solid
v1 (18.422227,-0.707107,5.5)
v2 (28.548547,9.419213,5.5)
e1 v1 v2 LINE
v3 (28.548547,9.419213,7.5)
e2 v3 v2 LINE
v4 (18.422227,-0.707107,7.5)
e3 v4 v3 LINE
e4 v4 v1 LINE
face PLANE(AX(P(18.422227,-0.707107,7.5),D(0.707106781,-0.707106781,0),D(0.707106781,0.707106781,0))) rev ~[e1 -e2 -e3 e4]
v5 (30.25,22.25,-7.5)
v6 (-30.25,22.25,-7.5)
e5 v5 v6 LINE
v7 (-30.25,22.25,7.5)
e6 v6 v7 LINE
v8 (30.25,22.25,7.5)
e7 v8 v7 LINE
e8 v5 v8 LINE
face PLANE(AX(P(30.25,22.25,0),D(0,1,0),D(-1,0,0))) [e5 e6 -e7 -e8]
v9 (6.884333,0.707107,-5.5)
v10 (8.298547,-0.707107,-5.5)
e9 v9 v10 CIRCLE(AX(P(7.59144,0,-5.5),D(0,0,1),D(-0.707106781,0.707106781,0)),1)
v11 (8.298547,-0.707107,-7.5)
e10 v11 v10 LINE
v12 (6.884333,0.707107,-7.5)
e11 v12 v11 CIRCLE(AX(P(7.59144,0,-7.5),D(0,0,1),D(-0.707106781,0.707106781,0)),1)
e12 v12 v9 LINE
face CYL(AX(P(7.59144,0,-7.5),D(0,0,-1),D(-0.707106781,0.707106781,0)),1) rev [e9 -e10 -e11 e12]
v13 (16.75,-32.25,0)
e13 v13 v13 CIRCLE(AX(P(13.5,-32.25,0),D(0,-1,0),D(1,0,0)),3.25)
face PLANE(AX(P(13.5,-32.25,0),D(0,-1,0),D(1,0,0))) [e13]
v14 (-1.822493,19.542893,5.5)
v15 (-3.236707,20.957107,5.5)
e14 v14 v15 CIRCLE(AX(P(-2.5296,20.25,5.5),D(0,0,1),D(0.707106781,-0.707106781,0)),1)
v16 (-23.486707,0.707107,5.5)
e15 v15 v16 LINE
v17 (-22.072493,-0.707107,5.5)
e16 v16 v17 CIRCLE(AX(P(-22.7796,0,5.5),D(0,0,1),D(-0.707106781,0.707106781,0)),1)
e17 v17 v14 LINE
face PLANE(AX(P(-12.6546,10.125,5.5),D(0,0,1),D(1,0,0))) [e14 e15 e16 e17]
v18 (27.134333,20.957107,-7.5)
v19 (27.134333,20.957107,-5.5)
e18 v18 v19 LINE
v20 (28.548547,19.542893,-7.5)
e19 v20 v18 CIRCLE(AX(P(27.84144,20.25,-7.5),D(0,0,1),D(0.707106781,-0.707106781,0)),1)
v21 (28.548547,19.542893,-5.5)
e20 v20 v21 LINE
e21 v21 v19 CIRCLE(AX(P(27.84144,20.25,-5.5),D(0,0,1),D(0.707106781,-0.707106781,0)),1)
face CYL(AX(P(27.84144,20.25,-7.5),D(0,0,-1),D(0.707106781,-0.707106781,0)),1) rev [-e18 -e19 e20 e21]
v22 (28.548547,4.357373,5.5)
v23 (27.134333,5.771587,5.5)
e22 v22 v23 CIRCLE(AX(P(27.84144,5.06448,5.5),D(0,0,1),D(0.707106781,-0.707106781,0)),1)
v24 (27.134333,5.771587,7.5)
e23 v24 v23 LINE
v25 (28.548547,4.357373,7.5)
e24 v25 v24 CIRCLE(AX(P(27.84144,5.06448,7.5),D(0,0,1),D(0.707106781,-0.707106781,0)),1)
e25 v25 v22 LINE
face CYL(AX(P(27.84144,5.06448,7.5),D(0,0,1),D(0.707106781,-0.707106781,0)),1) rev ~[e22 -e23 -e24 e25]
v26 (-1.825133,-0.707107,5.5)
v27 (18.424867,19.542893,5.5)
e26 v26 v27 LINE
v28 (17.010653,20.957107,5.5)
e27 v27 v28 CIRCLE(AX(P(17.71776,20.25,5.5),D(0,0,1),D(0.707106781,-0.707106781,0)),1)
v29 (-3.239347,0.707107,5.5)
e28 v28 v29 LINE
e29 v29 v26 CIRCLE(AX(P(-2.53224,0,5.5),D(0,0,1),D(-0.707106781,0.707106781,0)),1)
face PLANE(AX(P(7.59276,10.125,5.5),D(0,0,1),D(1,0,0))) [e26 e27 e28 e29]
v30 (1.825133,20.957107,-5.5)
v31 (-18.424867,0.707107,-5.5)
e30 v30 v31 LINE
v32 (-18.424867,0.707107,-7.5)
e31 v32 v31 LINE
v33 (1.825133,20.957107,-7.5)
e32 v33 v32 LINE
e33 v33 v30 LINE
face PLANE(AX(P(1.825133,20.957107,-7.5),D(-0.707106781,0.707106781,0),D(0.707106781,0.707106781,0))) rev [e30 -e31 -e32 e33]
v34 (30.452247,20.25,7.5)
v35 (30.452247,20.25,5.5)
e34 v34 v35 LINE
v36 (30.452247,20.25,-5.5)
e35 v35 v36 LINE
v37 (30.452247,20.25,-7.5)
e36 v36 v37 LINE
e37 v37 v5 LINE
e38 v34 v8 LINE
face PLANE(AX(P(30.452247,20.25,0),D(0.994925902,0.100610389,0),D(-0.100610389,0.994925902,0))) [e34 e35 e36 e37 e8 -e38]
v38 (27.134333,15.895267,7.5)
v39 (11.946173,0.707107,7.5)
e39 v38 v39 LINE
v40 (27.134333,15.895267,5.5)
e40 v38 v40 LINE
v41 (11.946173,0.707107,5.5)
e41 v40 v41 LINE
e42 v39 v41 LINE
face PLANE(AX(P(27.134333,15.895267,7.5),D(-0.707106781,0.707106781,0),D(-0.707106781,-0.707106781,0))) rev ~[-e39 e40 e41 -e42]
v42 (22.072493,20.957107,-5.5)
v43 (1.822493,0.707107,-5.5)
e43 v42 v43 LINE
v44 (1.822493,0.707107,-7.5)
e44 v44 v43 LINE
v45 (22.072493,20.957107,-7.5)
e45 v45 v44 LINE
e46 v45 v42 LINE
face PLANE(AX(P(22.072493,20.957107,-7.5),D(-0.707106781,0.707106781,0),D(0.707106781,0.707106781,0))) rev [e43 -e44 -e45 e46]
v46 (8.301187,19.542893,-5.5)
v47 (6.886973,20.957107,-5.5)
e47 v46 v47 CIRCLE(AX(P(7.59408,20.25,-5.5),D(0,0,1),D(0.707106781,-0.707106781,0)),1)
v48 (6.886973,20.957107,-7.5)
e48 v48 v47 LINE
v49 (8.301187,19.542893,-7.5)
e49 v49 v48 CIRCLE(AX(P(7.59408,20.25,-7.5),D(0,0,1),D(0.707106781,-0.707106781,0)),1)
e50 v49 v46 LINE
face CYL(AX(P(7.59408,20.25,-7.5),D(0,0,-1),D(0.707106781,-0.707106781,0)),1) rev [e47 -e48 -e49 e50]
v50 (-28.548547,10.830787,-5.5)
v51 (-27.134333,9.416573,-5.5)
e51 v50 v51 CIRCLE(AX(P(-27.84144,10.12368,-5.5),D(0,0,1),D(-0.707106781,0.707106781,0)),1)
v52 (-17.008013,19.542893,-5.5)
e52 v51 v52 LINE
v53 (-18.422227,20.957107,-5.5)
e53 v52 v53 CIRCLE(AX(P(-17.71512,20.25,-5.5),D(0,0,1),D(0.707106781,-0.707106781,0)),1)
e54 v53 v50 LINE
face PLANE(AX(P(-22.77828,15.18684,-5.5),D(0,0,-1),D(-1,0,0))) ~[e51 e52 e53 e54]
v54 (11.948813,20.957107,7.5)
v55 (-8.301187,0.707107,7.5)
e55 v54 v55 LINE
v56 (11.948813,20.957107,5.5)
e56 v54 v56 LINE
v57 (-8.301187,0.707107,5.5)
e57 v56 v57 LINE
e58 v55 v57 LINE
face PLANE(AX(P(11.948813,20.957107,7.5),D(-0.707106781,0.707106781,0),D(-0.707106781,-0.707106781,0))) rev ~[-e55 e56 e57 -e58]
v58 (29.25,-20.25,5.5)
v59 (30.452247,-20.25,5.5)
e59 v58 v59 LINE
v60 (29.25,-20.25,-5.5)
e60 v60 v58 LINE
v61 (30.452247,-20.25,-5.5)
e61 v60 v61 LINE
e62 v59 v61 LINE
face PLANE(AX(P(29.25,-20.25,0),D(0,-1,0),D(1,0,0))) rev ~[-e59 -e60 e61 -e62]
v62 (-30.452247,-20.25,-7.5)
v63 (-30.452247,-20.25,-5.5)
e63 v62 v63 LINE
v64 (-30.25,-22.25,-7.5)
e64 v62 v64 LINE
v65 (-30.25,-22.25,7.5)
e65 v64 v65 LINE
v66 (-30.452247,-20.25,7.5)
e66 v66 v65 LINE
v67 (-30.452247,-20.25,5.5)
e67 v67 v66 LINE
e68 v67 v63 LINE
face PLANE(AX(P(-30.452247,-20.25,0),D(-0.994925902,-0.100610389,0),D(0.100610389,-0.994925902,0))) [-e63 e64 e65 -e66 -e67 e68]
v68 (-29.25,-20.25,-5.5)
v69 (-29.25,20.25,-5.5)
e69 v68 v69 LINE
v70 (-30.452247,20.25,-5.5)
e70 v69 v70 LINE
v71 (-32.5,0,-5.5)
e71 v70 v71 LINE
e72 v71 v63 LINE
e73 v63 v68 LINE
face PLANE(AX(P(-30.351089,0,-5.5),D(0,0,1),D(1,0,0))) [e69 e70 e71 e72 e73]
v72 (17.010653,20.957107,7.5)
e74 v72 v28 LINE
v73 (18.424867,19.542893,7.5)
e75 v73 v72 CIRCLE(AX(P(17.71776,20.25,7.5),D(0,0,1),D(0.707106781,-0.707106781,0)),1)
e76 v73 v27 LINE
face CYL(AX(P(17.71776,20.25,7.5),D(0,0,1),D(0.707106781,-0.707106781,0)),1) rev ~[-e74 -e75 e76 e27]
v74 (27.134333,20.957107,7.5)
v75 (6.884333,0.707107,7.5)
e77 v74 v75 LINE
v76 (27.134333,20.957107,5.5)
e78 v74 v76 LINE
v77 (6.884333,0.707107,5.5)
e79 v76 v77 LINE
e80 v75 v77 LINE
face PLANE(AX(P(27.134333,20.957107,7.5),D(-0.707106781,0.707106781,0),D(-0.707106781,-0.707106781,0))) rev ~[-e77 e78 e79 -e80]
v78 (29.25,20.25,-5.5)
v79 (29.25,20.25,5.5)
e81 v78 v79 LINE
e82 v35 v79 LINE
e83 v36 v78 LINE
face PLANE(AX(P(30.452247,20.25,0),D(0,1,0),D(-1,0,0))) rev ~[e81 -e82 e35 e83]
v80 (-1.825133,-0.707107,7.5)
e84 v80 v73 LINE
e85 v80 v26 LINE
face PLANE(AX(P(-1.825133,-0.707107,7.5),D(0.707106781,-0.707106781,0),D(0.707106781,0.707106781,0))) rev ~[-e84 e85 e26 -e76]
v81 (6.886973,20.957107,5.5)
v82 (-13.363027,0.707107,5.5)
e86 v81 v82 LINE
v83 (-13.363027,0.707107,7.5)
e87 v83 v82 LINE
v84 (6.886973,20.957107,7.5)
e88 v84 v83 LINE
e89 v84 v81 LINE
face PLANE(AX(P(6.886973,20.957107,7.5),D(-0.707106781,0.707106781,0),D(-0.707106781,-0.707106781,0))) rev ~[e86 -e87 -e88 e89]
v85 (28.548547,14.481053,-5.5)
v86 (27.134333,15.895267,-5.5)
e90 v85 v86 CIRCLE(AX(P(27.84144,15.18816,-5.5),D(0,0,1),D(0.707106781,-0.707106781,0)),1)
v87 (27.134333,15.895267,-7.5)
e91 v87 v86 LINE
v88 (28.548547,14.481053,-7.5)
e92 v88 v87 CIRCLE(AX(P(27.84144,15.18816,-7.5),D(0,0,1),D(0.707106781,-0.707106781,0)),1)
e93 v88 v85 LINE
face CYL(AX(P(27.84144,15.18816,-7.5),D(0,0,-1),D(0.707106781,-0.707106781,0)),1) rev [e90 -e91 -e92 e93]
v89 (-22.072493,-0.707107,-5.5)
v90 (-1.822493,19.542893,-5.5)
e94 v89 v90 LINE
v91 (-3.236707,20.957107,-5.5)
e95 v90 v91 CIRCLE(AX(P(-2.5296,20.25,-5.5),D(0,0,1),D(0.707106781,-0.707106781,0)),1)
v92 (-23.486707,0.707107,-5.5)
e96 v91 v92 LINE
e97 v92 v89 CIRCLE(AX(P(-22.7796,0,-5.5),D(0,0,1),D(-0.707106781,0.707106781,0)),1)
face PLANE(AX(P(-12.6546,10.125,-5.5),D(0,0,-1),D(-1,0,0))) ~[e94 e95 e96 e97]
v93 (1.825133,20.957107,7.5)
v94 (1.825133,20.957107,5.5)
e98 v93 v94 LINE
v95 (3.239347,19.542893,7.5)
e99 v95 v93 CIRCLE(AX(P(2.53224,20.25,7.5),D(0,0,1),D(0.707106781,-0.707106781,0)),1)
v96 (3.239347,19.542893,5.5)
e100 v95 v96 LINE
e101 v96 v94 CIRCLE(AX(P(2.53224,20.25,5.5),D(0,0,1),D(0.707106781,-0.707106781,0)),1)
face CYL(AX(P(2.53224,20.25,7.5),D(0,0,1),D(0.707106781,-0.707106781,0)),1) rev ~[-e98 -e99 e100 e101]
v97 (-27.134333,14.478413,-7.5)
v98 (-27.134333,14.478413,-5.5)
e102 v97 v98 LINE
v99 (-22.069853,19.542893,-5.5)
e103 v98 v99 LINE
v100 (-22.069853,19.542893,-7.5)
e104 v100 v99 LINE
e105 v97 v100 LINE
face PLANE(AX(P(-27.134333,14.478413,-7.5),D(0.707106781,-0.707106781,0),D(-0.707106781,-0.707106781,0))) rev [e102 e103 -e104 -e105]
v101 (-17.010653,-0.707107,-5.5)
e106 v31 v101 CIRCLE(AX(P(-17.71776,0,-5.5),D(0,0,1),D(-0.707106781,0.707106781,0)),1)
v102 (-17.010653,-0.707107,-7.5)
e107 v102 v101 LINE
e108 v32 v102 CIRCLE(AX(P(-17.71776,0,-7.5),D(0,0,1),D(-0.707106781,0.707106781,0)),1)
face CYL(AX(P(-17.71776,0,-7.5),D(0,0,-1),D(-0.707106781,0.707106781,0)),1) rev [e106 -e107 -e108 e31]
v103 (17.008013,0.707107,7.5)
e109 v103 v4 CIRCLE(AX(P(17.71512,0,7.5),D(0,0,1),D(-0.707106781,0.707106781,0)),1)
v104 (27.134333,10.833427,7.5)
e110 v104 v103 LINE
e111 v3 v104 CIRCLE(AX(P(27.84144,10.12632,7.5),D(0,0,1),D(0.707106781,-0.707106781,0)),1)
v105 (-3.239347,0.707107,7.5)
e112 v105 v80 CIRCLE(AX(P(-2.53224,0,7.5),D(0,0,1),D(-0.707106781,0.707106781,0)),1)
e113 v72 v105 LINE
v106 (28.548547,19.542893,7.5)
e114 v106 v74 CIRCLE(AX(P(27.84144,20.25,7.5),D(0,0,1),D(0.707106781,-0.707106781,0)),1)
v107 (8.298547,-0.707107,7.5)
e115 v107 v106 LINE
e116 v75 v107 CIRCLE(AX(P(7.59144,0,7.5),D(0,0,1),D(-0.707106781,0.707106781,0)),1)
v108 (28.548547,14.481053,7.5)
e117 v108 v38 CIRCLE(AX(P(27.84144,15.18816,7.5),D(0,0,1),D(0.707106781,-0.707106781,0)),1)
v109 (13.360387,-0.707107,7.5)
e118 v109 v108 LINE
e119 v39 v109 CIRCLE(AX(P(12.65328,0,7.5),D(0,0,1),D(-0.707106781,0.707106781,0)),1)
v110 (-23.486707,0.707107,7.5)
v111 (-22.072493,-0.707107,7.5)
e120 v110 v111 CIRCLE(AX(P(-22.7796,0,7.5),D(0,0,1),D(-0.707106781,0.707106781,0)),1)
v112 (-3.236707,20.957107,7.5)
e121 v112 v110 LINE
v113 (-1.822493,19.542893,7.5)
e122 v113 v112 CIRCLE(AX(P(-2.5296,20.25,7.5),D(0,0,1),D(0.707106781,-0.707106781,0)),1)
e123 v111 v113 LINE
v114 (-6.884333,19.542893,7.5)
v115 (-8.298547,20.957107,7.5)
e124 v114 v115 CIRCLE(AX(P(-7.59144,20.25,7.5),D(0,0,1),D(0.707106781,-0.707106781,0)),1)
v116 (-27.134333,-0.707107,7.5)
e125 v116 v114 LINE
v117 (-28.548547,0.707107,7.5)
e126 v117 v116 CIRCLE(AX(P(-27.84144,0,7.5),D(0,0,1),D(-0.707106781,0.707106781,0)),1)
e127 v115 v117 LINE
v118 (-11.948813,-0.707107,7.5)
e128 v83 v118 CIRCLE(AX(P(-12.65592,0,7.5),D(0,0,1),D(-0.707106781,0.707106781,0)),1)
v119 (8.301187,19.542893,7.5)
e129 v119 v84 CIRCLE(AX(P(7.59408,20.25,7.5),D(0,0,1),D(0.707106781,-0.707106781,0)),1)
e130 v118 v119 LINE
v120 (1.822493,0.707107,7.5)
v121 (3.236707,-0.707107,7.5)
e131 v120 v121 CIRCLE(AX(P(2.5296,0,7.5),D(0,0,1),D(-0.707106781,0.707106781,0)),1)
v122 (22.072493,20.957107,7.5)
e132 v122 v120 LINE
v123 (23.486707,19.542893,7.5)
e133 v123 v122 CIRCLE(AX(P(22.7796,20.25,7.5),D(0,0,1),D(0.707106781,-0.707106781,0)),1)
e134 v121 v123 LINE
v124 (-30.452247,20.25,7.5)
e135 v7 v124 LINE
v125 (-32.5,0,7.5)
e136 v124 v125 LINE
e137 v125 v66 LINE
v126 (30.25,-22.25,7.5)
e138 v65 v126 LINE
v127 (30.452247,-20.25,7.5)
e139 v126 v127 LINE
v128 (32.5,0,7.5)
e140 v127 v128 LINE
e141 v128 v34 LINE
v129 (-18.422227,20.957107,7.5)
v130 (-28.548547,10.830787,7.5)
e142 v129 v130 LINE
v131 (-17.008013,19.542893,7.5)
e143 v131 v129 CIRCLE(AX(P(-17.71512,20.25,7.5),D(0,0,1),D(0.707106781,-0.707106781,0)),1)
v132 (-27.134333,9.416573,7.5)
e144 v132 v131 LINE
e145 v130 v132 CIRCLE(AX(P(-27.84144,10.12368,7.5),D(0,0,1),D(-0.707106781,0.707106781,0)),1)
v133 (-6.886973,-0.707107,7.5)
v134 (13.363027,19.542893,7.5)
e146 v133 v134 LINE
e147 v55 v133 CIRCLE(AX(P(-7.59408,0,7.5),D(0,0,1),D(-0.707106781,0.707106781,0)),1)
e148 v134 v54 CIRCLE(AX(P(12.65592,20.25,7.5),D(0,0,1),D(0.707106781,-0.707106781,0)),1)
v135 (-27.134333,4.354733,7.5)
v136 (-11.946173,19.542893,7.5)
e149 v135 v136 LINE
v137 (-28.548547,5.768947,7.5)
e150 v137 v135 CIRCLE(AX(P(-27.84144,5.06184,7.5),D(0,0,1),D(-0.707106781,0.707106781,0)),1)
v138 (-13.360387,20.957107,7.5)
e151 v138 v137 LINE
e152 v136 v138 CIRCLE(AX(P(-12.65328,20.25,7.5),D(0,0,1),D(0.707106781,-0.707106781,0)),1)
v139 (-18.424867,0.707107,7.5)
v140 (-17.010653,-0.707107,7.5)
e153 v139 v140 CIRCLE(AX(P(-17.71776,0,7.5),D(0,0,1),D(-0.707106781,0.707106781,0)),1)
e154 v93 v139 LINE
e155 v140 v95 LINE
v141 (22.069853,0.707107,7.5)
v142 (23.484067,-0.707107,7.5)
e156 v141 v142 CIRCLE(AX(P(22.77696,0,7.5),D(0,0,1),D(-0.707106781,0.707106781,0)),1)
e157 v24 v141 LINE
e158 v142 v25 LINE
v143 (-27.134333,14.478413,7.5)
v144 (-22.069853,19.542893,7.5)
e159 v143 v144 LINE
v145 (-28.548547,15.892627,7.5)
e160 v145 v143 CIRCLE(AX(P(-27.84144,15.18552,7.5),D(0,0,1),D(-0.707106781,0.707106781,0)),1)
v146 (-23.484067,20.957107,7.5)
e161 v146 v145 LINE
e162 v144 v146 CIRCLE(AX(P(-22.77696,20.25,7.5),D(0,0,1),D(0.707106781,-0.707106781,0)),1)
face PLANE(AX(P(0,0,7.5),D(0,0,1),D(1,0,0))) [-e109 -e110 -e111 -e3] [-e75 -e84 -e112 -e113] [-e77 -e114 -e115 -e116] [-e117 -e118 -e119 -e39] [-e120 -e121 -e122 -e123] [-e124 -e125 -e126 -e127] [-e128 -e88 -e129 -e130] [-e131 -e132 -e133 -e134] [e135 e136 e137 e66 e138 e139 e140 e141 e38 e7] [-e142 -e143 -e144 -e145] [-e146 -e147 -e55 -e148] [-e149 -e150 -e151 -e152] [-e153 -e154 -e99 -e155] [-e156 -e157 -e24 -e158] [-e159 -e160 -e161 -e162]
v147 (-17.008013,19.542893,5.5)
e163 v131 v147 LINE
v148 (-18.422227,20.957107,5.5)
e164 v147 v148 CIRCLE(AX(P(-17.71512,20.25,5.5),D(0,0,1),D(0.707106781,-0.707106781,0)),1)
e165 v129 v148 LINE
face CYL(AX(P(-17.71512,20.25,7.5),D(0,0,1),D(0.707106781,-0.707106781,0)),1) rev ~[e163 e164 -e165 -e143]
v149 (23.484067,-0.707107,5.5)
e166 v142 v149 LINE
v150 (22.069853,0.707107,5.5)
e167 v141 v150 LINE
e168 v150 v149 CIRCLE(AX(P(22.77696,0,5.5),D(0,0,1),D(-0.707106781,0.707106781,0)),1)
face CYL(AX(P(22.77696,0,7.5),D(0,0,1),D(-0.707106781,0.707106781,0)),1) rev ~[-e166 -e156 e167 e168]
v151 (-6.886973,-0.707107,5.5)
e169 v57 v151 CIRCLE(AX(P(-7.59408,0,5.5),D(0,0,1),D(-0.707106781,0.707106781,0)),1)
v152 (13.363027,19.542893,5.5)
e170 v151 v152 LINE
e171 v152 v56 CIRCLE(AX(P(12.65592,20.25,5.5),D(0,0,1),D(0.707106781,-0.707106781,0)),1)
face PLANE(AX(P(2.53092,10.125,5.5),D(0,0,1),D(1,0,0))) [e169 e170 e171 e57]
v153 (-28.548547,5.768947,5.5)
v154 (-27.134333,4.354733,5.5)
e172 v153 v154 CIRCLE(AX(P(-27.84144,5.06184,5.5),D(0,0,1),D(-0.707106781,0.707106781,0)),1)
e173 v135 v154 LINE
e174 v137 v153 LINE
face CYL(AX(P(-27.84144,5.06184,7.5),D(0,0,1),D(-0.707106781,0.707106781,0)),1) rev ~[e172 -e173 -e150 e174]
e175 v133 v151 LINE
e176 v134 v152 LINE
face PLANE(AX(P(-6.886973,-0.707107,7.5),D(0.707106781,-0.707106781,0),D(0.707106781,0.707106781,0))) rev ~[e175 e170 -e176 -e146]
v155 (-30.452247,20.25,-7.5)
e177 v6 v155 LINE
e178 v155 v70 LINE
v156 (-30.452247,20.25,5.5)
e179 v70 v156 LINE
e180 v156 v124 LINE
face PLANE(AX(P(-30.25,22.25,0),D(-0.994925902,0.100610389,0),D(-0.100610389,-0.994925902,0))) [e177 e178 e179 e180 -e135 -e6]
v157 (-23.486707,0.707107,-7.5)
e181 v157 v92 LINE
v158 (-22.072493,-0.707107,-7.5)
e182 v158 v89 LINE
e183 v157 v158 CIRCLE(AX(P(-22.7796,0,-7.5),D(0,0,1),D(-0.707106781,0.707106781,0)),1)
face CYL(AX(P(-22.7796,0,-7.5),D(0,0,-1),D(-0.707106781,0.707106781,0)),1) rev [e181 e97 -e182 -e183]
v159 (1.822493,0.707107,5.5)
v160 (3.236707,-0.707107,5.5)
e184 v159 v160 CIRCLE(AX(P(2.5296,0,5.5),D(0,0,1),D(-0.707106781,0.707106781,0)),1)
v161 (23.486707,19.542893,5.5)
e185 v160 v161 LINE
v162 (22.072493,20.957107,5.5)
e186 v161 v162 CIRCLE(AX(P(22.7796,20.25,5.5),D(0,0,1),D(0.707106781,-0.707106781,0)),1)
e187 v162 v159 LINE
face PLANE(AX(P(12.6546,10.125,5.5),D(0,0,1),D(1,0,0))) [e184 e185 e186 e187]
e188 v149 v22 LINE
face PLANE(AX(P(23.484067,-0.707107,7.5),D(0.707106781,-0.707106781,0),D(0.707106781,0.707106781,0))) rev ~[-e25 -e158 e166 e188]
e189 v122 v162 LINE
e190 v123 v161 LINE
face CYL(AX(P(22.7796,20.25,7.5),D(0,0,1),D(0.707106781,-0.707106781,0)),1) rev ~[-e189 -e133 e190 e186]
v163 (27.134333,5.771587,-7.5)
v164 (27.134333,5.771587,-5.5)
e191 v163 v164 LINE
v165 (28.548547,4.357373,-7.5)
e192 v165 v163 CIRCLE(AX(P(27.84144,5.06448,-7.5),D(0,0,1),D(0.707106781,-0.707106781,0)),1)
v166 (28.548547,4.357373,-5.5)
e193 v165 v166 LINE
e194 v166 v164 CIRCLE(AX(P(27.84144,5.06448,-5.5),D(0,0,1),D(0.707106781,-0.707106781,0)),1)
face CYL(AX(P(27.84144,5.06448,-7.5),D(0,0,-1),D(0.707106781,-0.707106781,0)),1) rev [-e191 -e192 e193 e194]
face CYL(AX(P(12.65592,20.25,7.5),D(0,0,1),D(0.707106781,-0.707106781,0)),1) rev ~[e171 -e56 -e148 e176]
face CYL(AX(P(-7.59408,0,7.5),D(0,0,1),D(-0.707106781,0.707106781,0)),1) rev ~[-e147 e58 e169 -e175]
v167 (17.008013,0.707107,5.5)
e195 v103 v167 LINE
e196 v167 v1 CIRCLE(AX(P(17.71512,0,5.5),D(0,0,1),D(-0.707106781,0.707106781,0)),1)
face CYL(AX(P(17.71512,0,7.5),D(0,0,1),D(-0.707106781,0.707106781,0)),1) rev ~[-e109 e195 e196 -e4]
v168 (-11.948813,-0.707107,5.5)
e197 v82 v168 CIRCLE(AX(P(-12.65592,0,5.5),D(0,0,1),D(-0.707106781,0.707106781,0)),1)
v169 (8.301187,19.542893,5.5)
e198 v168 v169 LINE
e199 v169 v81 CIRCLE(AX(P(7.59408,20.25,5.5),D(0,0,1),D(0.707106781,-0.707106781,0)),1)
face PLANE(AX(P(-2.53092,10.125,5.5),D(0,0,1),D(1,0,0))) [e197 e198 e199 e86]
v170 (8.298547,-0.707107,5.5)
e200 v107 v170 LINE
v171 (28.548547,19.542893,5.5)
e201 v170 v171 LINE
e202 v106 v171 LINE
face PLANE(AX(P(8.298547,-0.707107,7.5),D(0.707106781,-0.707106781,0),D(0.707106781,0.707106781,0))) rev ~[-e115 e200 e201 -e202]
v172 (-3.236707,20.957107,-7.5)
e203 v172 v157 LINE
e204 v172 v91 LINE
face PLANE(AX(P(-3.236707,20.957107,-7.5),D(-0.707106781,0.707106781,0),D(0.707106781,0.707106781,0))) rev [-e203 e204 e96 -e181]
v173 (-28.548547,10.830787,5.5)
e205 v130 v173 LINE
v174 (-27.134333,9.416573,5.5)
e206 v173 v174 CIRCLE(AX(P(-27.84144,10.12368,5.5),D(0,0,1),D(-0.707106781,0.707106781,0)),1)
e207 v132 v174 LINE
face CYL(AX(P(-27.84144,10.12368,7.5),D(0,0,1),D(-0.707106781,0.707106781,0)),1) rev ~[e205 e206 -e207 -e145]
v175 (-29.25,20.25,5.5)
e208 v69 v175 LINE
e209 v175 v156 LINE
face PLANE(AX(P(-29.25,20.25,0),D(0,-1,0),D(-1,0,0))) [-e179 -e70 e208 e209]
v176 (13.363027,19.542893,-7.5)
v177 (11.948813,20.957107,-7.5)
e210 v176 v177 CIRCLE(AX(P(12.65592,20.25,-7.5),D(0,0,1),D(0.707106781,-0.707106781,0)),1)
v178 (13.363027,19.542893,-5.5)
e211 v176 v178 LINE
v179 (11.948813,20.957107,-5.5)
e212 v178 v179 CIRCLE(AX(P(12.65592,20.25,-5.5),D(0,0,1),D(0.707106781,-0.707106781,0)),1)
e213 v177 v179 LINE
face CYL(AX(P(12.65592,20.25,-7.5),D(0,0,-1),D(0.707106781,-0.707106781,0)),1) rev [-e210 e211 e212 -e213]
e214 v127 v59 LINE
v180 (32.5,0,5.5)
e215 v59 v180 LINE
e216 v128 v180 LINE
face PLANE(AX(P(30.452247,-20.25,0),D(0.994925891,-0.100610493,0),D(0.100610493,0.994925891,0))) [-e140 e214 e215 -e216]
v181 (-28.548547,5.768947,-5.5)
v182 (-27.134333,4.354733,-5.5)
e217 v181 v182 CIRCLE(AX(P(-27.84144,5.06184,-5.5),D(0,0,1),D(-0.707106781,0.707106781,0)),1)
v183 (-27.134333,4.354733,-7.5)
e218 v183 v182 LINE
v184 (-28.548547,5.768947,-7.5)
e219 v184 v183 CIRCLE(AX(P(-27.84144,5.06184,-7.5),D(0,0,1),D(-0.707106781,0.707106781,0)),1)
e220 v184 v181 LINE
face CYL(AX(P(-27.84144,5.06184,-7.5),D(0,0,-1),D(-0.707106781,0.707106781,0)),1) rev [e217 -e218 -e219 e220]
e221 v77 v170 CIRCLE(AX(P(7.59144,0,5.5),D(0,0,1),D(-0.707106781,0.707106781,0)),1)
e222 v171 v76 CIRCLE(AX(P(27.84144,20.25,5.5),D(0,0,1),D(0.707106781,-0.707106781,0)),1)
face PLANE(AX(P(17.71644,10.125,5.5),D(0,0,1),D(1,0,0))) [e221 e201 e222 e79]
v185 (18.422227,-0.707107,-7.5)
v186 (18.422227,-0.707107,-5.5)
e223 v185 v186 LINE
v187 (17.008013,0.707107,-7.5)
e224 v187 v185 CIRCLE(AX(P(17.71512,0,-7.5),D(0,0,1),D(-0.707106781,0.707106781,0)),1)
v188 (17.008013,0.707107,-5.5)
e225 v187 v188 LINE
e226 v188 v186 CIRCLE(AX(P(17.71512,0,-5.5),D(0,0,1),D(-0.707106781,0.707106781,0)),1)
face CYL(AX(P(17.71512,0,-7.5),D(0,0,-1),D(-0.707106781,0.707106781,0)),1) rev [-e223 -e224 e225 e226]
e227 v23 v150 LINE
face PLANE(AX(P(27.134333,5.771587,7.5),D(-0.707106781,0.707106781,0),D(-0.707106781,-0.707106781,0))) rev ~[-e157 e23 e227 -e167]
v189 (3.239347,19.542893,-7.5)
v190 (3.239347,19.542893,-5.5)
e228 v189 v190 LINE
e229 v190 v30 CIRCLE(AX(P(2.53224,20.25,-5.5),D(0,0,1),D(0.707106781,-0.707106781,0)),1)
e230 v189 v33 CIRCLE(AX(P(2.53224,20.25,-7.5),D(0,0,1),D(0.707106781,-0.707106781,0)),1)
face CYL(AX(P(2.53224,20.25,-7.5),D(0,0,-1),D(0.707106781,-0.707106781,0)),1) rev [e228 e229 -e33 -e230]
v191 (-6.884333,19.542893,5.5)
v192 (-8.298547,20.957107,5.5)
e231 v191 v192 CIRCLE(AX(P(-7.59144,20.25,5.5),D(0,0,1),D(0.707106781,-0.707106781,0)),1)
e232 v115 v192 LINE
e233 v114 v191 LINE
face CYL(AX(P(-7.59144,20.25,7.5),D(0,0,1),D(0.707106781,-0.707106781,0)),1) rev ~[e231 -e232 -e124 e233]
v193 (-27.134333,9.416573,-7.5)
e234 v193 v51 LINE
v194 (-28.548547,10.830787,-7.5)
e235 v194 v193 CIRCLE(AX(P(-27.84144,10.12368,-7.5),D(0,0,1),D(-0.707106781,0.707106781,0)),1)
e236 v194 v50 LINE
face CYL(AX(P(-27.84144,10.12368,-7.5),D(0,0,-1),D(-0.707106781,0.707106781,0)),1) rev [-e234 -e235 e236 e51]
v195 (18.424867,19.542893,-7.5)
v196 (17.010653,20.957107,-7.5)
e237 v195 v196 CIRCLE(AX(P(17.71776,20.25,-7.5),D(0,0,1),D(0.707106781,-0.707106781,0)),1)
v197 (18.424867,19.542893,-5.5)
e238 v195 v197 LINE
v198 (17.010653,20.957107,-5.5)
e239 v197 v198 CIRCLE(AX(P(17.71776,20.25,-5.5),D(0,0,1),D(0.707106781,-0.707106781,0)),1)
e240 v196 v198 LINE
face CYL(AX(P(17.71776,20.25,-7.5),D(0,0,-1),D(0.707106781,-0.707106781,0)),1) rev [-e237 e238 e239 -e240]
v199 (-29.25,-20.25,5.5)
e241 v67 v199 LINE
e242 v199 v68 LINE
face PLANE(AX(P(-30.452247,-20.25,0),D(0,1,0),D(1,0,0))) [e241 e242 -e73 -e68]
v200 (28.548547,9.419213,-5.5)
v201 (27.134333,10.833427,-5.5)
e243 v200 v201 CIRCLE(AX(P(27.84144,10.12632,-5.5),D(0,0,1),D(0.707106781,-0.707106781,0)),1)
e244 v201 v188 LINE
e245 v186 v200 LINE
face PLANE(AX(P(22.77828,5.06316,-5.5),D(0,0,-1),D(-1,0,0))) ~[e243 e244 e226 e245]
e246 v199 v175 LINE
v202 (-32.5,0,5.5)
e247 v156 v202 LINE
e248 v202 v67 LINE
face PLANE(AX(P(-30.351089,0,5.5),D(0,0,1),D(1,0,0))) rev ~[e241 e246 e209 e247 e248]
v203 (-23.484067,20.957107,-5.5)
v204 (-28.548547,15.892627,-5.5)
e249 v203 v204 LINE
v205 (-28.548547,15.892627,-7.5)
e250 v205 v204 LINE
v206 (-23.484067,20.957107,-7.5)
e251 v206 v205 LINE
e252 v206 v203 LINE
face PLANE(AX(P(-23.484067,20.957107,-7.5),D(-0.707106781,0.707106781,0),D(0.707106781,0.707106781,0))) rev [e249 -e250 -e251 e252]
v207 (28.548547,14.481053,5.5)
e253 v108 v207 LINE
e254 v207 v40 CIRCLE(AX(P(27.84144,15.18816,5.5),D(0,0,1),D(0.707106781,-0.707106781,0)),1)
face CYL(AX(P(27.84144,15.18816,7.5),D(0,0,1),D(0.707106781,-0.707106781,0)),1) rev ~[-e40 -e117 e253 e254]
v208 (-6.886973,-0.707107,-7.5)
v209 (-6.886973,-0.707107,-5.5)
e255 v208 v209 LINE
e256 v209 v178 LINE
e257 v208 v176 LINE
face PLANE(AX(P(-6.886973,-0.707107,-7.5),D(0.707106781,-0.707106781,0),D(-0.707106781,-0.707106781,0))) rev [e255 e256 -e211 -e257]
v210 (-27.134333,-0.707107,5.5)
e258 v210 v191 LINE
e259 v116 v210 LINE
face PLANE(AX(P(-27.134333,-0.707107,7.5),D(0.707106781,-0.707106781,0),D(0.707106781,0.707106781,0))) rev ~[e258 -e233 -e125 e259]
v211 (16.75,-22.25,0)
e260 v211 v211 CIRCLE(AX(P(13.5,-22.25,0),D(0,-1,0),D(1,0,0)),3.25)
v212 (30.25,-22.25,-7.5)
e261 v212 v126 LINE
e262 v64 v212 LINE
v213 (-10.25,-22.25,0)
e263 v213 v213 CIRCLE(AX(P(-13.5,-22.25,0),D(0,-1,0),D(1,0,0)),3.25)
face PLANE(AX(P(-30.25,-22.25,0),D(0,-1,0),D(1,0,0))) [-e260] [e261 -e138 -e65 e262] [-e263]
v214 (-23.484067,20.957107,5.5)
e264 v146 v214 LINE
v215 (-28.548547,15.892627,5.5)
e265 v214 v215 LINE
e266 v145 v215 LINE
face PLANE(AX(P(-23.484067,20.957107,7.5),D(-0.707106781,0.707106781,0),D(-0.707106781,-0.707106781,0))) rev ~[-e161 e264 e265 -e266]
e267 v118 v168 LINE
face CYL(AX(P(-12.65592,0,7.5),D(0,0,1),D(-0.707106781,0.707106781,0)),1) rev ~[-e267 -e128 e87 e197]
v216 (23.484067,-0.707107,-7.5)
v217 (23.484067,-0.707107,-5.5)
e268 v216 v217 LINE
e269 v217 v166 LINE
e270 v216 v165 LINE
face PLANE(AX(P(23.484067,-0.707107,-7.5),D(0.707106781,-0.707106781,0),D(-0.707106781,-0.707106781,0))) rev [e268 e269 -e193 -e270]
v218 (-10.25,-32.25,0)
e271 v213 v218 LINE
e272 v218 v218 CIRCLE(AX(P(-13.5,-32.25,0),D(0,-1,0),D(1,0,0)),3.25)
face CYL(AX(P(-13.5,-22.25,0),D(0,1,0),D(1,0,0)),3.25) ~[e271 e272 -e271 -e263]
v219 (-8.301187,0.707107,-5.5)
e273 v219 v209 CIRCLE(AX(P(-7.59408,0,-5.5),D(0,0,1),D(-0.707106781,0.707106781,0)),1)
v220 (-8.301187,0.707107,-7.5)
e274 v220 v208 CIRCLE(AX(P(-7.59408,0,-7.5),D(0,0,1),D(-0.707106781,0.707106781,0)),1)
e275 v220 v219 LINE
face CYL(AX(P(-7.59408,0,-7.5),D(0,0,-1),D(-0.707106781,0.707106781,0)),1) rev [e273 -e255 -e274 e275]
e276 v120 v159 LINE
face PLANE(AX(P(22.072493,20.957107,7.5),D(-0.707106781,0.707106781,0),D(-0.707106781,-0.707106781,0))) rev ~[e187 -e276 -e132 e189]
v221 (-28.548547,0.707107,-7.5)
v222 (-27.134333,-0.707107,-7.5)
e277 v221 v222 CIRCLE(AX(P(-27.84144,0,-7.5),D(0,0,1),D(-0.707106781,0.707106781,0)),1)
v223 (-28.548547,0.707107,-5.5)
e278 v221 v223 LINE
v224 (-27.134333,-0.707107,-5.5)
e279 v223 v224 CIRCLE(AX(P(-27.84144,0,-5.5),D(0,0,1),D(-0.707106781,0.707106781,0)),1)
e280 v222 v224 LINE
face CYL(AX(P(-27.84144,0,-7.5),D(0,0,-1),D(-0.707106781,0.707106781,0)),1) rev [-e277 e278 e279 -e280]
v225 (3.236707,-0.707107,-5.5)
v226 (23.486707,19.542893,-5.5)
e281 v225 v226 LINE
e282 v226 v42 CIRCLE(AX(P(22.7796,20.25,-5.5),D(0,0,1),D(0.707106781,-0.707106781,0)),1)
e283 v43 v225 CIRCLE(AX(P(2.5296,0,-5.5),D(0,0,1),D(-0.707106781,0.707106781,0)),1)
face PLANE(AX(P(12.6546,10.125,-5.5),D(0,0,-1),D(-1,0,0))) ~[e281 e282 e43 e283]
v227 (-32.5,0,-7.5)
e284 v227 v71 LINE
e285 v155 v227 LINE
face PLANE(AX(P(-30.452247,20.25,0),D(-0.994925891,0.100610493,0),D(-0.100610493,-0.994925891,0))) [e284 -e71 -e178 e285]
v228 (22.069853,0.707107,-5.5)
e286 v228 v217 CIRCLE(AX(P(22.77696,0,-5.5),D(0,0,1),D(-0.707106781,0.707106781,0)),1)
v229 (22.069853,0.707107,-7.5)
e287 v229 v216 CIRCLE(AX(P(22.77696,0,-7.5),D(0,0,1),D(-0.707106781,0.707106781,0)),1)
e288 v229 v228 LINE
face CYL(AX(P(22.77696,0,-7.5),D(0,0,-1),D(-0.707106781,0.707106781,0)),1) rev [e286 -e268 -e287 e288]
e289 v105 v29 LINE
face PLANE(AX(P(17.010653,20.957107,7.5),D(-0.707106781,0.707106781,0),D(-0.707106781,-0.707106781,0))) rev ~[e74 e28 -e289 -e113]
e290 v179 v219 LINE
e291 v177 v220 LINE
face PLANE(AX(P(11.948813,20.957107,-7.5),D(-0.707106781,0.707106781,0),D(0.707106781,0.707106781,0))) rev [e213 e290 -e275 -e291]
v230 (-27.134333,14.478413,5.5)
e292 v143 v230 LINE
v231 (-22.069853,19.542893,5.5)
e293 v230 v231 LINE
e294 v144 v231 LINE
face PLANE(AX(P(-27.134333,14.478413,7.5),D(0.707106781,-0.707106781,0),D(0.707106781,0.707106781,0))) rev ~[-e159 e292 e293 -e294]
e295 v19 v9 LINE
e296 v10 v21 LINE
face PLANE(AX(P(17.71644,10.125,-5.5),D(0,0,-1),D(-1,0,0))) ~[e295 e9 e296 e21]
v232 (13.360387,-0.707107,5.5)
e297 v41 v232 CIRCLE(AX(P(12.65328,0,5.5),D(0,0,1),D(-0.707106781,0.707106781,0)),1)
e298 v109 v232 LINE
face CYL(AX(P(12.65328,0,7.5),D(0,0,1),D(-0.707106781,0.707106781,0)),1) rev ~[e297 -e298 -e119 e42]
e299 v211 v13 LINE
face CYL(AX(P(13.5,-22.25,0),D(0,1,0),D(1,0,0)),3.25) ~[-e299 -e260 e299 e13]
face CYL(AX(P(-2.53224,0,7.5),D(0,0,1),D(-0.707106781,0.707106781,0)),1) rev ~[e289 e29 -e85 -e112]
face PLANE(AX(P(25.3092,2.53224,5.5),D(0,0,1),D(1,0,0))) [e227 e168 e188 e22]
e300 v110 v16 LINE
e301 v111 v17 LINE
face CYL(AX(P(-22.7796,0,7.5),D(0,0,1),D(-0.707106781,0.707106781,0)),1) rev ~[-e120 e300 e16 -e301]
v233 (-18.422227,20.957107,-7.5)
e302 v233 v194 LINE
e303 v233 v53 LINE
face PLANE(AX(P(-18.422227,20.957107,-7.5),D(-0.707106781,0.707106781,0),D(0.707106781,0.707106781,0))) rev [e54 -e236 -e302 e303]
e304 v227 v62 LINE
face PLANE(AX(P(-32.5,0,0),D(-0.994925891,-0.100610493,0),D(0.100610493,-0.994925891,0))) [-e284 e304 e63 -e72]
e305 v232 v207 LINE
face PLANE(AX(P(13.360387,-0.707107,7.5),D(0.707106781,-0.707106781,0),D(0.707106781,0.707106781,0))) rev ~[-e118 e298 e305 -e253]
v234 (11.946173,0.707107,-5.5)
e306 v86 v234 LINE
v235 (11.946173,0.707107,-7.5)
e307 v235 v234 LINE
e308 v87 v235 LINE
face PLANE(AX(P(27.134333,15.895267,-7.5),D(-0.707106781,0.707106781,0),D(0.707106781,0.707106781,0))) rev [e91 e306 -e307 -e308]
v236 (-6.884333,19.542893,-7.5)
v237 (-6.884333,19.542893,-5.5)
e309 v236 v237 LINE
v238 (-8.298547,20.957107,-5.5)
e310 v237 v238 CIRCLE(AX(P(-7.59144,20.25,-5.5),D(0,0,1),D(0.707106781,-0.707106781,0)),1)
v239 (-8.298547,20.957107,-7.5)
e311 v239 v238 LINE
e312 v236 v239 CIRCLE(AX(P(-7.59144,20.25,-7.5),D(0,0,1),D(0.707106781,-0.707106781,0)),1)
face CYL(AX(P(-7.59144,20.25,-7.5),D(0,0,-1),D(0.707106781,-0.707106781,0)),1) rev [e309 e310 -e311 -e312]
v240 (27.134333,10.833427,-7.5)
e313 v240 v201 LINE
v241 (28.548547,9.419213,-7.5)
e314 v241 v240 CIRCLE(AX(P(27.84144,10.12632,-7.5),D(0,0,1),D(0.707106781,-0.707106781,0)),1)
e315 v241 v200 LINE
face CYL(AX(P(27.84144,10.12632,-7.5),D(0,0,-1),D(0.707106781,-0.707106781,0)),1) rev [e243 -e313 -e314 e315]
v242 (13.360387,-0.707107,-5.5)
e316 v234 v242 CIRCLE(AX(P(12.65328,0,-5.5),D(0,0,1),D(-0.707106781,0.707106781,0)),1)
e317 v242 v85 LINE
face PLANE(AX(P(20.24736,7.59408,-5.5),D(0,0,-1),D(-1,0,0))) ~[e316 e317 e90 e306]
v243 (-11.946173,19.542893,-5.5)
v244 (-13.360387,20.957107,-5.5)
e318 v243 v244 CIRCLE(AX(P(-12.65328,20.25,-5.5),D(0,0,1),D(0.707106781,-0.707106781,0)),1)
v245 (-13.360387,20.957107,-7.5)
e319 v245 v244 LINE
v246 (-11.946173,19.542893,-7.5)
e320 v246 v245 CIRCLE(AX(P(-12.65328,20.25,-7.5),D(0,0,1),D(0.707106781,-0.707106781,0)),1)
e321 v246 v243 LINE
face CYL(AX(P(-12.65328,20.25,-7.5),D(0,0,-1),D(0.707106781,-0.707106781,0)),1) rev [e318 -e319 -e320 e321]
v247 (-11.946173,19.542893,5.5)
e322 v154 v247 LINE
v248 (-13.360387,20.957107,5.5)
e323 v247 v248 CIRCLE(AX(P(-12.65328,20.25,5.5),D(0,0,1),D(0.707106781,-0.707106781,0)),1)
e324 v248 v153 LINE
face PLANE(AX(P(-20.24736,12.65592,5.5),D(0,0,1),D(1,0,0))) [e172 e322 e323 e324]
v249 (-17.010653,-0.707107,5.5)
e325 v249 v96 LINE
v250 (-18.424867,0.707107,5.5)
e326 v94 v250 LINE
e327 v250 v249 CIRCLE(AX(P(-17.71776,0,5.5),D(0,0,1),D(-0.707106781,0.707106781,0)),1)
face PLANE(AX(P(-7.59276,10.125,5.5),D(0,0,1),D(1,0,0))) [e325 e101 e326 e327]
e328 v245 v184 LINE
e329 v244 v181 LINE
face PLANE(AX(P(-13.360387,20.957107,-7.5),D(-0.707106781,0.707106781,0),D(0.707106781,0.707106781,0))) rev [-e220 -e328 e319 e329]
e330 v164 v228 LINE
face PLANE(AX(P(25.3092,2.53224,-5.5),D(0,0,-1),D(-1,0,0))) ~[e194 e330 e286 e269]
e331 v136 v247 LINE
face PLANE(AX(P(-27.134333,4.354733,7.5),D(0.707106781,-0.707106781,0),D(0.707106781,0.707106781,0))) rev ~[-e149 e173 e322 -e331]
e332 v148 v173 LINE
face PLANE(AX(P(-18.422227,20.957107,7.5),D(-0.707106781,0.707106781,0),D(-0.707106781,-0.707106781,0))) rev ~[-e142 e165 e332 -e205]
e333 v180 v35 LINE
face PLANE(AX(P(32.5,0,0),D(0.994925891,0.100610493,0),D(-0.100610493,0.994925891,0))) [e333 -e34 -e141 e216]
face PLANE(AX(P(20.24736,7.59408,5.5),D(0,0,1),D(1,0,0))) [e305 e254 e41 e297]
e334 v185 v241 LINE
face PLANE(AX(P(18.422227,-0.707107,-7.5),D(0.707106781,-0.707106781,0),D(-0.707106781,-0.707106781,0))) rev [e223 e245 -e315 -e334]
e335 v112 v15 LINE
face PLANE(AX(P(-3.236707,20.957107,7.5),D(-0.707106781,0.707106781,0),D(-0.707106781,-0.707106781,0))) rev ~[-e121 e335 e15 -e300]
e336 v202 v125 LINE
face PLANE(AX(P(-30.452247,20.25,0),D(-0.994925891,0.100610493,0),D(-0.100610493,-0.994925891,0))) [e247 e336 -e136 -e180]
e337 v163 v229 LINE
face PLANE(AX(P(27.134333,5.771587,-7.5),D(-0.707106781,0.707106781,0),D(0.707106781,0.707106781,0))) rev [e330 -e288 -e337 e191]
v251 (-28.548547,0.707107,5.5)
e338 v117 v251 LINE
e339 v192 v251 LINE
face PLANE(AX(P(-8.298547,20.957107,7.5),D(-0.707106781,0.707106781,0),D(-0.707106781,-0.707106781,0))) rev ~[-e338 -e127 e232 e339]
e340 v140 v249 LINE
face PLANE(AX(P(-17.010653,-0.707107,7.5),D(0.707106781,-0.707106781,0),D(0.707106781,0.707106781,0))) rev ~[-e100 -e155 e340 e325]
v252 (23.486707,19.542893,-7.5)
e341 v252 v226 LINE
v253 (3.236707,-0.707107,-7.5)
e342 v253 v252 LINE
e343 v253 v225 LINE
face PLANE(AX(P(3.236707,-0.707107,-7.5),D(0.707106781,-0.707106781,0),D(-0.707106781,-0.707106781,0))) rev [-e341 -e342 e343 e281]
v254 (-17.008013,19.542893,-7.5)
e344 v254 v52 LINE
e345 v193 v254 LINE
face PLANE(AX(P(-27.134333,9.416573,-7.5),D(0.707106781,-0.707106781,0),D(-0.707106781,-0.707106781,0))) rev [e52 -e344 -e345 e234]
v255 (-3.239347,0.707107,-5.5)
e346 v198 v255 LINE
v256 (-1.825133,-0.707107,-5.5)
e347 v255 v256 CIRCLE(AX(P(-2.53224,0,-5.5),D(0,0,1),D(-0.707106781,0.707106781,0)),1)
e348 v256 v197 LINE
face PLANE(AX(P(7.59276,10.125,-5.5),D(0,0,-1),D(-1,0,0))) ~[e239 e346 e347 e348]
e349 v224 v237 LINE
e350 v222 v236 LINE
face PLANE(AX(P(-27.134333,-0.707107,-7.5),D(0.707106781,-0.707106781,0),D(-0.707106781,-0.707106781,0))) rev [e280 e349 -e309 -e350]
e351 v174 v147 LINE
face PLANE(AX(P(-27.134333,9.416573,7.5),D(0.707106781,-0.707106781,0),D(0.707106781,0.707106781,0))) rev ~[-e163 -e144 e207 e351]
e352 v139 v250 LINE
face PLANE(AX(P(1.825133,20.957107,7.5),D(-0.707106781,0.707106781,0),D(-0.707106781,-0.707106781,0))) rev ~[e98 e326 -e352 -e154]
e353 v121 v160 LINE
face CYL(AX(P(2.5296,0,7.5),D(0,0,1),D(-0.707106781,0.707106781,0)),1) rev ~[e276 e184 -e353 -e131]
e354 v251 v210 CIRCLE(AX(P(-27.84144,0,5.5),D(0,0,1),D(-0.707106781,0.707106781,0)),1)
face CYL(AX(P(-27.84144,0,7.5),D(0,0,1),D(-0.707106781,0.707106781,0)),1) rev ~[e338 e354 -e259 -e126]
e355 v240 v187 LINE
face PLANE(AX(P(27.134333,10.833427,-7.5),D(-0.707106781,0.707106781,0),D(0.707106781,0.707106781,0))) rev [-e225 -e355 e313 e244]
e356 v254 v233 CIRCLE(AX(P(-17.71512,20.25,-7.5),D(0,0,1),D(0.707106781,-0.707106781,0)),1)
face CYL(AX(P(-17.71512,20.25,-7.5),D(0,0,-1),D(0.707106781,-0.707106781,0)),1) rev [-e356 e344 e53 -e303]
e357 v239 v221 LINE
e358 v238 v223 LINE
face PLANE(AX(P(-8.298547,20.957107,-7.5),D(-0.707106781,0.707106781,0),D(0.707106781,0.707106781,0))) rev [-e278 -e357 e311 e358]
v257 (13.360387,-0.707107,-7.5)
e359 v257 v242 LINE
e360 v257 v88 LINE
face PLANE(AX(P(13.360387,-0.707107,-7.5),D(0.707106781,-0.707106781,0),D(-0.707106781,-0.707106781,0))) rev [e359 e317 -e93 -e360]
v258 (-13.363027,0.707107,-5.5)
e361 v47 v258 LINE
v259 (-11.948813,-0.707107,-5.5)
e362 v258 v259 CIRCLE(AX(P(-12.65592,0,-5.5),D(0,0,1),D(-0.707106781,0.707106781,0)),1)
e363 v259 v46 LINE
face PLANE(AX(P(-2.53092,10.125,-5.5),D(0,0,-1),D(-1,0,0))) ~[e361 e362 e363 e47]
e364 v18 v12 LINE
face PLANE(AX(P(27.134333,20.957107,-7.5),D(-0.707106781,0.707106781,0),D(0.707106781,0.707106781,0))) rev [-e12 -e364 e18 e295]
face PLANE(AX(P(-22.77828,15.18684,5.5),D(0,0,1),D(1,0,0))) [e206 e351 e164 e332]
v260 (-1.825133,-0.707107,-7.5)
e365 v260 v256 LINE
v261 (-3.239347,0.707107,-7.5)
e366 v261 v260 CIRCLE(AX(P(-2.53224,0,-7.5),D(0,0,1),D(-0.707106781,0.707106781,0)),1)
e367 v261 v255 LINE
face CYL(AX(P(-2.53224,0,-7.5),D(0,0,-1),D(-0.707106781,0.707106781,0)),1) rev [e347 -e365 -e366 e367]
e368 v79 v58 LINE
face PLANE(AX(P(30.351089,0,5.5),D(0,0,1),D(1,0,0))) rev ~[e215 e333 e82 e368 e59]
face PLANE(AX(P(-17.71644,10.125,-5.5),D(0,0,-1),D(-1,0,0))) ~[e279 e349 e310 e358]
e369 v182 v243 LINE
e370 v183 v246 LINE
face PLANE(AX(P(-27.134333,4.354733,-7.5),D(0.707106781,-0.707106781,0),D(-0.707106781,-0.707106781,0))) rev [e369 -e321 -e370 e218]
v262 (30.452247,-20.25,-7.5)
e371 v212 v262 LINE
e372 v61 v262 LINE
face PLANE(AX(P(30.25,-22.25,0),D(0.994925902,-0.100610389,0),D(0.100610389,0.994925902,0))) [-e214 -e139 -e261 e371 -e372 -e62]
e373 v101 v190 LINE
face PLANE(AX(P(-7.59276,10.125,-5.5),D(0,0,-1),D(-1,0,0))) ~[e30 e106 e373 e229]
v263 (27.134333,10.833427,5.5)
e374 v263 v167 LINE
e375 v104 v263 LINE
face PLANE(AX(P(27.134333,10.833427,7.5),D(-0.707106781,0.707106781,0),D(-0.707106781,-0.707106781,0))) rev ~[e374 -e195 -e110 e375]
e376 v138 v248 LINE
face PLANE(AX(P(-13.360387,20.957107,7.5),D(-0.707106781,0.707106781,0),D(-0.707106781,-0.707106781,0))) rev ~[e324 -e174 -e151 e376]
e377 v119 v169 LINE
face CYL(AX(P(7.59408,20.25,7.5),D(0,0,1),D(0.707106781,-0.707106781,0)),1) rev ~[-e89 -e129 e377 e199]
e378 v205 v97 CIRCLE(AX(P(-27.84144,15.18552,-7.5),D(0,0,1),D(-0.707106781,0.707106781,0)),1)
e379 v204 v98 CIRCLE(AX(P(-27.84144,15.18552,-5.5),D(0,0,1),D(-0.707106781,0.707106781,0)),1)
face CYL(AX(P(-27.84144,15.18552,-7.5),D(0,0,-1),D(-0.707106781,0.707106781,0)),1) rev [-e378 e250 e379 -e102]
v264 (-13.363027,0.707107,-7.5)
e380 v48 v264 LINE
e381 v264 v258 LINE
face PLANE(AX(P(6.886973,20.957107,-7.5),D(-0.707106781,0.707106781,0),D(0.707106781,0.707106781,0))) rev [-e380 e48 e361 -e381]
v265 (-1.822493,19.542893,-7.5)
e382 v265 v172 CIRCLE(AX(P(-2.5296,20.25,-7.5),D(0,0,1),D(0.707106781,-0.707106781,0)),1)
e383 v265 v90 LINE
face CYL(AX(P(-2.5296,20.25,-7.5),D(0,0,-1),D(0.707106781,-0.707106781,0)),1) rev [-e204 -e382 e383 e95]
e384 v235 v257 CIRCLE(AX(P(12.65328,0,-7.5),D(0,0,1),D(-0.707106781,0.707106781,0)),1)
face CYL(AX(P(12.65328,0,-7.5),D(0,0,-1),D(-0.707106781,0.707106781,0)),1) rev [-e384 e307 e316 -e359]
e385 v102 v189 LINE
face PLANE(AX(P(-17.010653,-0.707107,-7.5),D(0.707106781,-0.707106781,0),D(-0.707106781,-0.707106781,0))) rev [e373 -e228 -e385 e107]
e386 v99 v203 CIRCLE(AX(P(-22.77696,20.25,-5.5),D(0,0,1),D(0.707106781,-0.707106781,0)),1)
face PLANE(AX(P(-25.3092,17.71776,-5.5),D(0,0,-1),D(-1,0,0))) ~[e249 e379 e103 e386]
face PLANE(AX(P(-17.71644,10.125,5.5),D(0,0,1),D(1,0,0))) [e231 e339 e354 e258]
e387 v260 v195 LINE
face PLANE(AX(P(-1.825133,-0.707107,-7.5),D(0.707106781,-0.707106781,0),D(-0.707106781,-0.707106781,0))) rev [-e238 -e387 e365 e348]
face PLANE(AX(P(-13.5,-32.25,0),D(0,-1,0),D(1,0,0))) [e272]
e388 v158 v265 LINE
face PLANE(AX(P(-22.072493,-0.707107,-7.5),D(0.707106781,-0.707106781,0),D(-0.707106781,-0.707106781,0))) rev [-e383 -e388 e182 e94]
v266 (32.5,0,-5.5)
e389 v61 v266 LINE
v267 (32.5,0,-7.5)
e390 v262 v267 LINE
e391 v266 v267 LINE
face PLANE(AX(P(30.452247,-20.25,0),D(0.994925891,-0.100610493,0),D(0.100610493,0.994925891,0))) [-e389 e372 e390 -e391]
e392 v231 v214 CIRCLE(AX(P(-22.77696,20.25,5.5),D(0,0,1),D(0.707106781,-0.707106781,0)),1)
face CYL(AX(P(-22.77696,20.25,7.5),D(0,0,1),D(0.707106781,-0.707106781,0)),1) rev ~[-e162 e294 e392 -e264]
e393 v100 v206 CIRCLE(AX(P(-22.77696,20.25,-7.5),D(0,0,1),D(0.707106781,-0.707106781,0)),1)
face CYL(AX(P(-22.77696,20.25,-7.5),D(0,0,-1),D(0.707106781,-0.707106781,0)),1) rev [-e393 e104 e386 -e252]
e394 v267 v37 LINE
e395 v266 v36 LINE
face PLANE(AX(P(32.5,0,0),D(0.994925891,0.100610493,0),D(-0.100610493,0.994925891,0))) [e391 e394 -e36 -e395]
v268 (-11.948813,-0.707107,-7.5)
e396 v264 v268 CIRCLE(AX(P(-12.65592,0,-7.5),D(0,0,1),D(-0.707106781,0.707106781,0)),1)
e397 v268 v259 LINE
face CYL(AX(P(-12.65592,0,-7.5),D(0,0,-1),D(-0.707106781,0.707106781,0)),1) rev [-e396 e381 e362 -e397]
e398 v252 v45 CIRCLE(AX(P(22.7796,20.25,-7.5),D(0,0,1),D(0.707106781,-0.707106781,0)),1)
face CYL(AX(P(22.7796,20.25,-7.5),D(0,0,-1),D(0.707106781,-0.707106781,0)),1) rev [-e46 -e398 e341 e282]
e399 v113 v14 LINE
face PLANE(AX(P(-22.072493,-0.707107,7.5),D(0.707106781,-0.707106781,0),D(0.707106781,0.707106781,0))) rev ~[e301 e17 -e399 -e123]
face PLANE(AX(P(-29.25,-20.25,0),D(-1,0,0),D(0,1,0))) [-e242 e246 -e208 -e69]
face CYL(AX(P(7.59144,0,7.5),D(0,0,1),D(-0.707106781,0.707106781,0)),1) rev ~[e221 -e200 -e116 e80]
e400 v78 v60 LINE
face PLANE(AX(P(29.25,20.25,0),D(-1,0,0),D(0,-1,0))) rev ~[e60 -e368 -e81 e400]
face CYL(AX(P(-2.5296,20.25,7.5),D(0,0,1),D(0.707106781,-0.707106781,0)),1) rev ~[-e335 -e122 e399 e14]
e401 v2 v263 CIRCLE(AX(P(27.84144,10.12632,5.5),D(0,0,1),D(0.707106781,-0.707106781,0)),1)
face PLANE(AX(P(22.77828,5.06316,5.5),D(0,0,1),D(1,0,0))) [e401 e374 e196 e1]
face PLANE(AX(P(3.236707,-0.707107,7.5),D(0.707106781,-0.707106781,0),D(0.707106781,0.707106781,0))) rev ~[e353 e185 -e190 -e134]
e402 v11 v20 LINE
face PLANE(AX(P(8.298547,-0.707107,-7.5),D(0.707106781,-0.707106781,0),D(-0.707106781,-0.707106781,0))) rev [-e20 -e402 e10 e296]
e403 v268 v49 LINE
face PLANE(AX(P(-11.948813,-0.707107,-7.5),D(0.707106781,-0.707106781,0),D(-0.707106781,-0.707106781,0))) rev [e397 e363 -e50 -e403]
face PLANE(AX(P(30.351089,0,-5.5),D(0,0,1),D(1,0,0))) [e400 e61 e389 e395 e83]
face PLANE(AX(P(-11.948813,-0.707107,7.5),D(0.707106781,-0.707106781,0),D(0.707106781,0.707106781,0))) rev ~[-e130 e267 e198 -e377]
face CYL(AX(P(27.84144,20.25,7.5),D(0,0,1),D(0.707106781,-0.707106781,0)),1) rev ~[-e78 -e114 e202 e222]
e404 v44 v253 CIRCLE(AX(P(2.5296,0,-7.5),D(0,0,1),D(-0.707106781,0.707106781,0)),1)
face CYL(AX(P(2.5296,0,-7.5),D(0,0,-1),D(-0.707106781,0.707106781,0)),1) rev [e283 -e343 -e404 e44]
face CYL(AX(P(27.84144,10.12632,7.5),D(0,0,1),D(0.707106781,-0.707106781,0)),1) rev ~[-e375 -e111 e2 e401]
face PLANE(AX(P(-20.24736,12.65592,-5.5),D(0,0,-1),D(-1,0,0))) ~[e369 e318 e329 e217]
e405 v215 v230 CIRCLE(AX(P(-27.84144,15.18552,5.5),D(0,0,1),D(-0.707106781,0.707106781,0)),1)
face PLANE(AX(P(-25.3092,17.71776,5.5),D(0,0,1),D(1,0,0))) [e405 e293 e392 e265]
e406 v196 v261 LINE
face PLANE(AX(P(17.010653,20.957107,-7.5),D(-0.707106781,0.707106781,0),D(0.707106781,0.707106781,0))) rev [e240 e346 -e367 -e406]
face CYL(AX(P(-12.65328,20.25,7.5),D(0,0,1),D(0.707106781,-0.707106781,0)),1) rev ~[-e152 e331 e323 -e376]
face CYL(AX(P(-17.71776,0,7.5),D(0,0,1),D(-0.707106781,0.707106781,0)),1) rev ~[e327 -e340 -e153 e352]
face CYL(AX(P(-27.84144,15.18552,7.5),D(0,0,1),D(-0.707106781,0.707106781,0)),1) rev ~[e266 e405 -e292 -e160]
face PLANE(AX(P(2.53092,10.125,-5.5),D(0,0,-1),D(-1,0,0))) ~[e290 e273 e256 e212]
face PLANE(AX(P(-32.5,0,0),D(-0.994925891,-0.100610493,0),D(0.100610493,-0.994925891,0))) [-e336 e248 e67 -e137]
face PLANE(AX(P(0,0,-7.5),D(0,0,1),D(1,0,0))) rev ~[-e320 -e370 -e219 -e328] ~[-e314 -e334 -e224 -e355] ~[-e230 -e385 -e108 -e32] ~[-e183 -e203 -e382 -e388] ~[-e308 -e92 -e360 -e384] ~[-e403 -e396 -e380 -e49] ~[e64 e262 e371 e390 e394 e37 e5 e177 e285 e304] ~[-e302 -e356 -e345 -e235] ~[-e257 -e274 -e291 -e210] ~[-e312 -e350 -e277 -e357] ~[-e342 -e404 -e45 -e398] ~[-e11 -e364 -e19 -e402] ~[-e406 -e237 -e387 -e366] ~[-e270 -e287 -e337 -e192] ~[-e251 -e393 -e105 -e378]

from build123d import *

# Parameters (mm, degrees)
F0_W     = 58.5
F0_H     = 40.5
F1_DEPTH = 7.5
F2_DEPTH = 5.5
F4_DEPTH = 2
F6_R     = 3.25
F7_DEPTH = 10


with BuildPart() as f1:
    # F0 (on Top) → F1 (new body, symmetric)
    with BuildSketch(Plane.XY):
        Rectangle(F0_W, F0_H)
        Polygon((-29.25, -20.25), (-29.25, 20.25), (-30.452247, 20.25), (-32.5, 0), (-30.452247, -20.25), align=None)
        Polygon((-30.452247, 20.25), (-29.25, 20.25), (29.25, 20.25), (30.452247, 20.25), (30.25, 22.25), (-30.25, 22.25), align=None)
        Polygon((30.452247, 20.25), (29.25, 20.25), (29.25, -20.25), (30.452247, -20.25), (32.5, 0), align=None)
        Polygon((29.25, -20.25), (-29.25, -20.25), (-30.452247, -20.25), (-30.25, -22.25), (30.25, -22.25), (30.452247, -20.25), align=None)
    extrude(amount=F1_DEPTH, both=True)

    # F0 (on Top) → F2 (cut, symmetric)
    with BuildSketch(Plane.XY):
        Polygon((-29.25, -20.25), (-29.25, 20.25), (-30.452247, 20.25), (-32.5, 0), (-30.452247, -20.25), align=None)
        Polygon((30.452247, 20.25), (29.25, 20.25), (29.25, -20.25), (30.452247, -20.25), (32.5, 0), align=None)
    extrude(amount=F2_DEPTH, both=True, mode=Mode.SUBTRACT)

    # F3 (on face) → F4 (cut)
    with BuildSketch(Plane.XY.offset(7.5)):
        with BuildLine():
            ThreePointArc((-28.548547, 15.892627), (-28.548547, 14.478413), (-27.134333, 14.478413))
            Line((-27.134333, 14.478413), (-22.069853, 19.542893))
            ThreePointArc((-22.069853, 19.542893), (-22.069853, 20.957107), (-23.484067, 20.957107))
            Line((-23.484067, 20.957107), (-28.548547, 15.892627))
        make_face()
        with BuildLine():
            ThreePointArc((-17.008013, 19.542893), (-17.008013, 20.957107), (-18.422227, 20.957107))
            Line((-18.422227, 20.957107), (-28.548547, 10.830787))
            ThreePointArc((-28.548547, 10.830787), (-28.548547, 9.416573), (-27.134333, 9.416573))
            Line((-27.134333, 9.416573), (-17.008013, 19.542893))
        make_face()
        with BuildLine():
            ThreePointArc((-11.946173, 19.542893), (-11.946173, 20.957107), (-13.360387, 20.957107))
            Line((-13.360387, 20.957107), (-28.548547, 5.768947))
            ThreePointArc((-28.548547, 5.768947), (-28.548547, 4.354733), (-27.134333, 4.354733))
            Line((-27.134333, 4.354733), (-11.946173, 19.542893))
        make_face()
        with BuildLine():
            ThreePointArc((-28.548547, 0.707107), (-28.548547, -0.707107), (-27.134333, -0.707107))
            Line((-27.134333, -0.707107), (-6.884333, 19.542893))
            ThreePointArc((-6.884333, 19.542893), (-6.884333, 20.957107), (-8.298547, 20.957107))
            Line((-8.298547, 20.957107), (-28.548547, 0.707107))
        make_face()
        with BuildLine():
            ThreePointArc((-23.486707, 0.707107), (-23.486707, -0.707107), (-22.072493, -0.707107))
            Line((-22.072493, -0.707107), (-1.822493, 19.542893))
            ThreePointArc((-1.822493, 19.542893), (-1.822493, 20.957107), (-3.236707, 20.957107))
            Line((-3.236707, 20.957107), (-23.486707, 0.707107))
        make_face()
        with BuildLine():
            ThreePointArc((-18.424867, 0.707107), (-18.424867, -0.707107), (-17.010653, -0.707107))
            Line((-17.010653, -0.707107), (3.239347, 19.542893))
            ThreePointArc((3.239347, 19.542893), (3.239347, 20.957107), (1.825133, 20.957107))
            Line((1.825133, 20.957107), (-18.424867, 0.707107))
        make_face()
        with BuildLine():
            ThreePointArc((-13.363027, 0.707107), (-13.363027, -0.707107), (-11.948813, -0.707107))
            Line((-11.948813, -0.707107), (8.301187, 19.542893))
            ThreePointArc((8.301187, 19.542893), (8.301187, 20.957107), (6.886973, 20.957107))
            Line((6.886973, 20.957107), (-13.363027, 0.707107))
        make_face()
        with BuildLine():
            ThreePointArc((-8.301187, 0.707107), (-8.301187, -0.707107), (-6.886973, -0.707107))
            Line((-6.886973, -0.707107), (13.363027, 19.542893))
            ThreePointArc((13.363027, 19.542893), (13.363027, 20.957107), (11.948813, 20.957107))
            Line((11.948813, 20.957107), (-8.301187, 0.707107))
        make_face()
        with BuildLine():
            ThreePointArc((-3.239347, 0.707107), (-3.239347, -0.707107), (-1.825133, -0.707107))
            Line((-1.825133, -0.707107), (18.424867, 19.542893))
            ThreePointArc((18.424867, 19.542893), (18.424867, 20.957107), (17.010653, 20.957107))
            Line((17.010653, 20.957107), (-3.239347, 0.707107))
        make_face()
        with BuildLine():
            ThreePointArc((1.822493, 0.707107), (1.822493, -0.707107), (3.236707, -0.707107))
            Line((3.236707, -0.707107), (23.486707, 19.542893))
            ThreePointArc((23.486707, 19.542893), (23.486707, 20.957107), (22.072493, 20.957107))
            Line((22.072493, 20.957107), (1.822493, 0.707107))
        make_face()
        with BuildLine():
            ThreePointArc((6.884333, 0.707107), (6.884333, -0.707107), (8.298547, -0.707107))
            Line((8.298547, -0.707107), (28.548547, 19.542893))
            ThreePointArc((28.548547, 19.542893), (28.548547, 20.957107), (27.134333, 20.957107))
            Line((27.134333, 20.957107), (6.884333, 0.707107))
        make_face()
        with BuildLine():
            ThreePointArc((11.946173, 0.707107), (11.946173, -0.707107), (13.360387, -0.707107))
            Line((13.360387, -0.707107), (28.548547, 14.481053))
            ThreePointArc((28.548547, 14.481053), (28.548547, 15.895267), (27.134333, 15.895267))
            Line((27.134333, 15.895267), (11.946173, 0.707107))
        make_face()
        with BuildLine():
            ThreePointArc((17.008013, 0.707107), (17.008013, -0.707107), (18.422227, -0.707107))
            Line((18.422227, -0.707107), (28.548547, 9.419213))
            ThreePointArc((28.548547, 9.419213), (28.548547, 10.833427), (27.134333, 10.833427))
            Line((27.134333, 10.833427), (17.008013, 0.707107))
        make_face()
        with BuildLine():
            ThreePointArc((28.548547, 4.357373), (28.548547, 5.771587), (27.134333, 5.771587))
            Line((27.134333, 5.771587), (22.069853, 0.707107))
            ThreePointArc((22.069853, 0.707107), (22.069853, -0.707107), (23.484067, -0.707107))
            Line((23.484067, -0.707107), (28.548547, 4.357373))
        make_face()
    extrude(amount=-F4_DEPTH, mode=Mode.SUBTRACT)

    # F5: F1 across plane


with BuildPart() as f1_1:
    add(f1.part)
    add(f1.part.mirror(Plane.XY), mode=Mode.INTERSECT)

    # F6 (on face) → F7 (join)
    with BuildSketch(Plane.XZ.offset(22.25)):
        with Locations((-13.5, 0)):
            Circle(F6_R)
        with Locations((13.5, 0)):
            Circle(F6_R)
    extrude(amount=F7_DEPTH)


solid = f1_1.part
